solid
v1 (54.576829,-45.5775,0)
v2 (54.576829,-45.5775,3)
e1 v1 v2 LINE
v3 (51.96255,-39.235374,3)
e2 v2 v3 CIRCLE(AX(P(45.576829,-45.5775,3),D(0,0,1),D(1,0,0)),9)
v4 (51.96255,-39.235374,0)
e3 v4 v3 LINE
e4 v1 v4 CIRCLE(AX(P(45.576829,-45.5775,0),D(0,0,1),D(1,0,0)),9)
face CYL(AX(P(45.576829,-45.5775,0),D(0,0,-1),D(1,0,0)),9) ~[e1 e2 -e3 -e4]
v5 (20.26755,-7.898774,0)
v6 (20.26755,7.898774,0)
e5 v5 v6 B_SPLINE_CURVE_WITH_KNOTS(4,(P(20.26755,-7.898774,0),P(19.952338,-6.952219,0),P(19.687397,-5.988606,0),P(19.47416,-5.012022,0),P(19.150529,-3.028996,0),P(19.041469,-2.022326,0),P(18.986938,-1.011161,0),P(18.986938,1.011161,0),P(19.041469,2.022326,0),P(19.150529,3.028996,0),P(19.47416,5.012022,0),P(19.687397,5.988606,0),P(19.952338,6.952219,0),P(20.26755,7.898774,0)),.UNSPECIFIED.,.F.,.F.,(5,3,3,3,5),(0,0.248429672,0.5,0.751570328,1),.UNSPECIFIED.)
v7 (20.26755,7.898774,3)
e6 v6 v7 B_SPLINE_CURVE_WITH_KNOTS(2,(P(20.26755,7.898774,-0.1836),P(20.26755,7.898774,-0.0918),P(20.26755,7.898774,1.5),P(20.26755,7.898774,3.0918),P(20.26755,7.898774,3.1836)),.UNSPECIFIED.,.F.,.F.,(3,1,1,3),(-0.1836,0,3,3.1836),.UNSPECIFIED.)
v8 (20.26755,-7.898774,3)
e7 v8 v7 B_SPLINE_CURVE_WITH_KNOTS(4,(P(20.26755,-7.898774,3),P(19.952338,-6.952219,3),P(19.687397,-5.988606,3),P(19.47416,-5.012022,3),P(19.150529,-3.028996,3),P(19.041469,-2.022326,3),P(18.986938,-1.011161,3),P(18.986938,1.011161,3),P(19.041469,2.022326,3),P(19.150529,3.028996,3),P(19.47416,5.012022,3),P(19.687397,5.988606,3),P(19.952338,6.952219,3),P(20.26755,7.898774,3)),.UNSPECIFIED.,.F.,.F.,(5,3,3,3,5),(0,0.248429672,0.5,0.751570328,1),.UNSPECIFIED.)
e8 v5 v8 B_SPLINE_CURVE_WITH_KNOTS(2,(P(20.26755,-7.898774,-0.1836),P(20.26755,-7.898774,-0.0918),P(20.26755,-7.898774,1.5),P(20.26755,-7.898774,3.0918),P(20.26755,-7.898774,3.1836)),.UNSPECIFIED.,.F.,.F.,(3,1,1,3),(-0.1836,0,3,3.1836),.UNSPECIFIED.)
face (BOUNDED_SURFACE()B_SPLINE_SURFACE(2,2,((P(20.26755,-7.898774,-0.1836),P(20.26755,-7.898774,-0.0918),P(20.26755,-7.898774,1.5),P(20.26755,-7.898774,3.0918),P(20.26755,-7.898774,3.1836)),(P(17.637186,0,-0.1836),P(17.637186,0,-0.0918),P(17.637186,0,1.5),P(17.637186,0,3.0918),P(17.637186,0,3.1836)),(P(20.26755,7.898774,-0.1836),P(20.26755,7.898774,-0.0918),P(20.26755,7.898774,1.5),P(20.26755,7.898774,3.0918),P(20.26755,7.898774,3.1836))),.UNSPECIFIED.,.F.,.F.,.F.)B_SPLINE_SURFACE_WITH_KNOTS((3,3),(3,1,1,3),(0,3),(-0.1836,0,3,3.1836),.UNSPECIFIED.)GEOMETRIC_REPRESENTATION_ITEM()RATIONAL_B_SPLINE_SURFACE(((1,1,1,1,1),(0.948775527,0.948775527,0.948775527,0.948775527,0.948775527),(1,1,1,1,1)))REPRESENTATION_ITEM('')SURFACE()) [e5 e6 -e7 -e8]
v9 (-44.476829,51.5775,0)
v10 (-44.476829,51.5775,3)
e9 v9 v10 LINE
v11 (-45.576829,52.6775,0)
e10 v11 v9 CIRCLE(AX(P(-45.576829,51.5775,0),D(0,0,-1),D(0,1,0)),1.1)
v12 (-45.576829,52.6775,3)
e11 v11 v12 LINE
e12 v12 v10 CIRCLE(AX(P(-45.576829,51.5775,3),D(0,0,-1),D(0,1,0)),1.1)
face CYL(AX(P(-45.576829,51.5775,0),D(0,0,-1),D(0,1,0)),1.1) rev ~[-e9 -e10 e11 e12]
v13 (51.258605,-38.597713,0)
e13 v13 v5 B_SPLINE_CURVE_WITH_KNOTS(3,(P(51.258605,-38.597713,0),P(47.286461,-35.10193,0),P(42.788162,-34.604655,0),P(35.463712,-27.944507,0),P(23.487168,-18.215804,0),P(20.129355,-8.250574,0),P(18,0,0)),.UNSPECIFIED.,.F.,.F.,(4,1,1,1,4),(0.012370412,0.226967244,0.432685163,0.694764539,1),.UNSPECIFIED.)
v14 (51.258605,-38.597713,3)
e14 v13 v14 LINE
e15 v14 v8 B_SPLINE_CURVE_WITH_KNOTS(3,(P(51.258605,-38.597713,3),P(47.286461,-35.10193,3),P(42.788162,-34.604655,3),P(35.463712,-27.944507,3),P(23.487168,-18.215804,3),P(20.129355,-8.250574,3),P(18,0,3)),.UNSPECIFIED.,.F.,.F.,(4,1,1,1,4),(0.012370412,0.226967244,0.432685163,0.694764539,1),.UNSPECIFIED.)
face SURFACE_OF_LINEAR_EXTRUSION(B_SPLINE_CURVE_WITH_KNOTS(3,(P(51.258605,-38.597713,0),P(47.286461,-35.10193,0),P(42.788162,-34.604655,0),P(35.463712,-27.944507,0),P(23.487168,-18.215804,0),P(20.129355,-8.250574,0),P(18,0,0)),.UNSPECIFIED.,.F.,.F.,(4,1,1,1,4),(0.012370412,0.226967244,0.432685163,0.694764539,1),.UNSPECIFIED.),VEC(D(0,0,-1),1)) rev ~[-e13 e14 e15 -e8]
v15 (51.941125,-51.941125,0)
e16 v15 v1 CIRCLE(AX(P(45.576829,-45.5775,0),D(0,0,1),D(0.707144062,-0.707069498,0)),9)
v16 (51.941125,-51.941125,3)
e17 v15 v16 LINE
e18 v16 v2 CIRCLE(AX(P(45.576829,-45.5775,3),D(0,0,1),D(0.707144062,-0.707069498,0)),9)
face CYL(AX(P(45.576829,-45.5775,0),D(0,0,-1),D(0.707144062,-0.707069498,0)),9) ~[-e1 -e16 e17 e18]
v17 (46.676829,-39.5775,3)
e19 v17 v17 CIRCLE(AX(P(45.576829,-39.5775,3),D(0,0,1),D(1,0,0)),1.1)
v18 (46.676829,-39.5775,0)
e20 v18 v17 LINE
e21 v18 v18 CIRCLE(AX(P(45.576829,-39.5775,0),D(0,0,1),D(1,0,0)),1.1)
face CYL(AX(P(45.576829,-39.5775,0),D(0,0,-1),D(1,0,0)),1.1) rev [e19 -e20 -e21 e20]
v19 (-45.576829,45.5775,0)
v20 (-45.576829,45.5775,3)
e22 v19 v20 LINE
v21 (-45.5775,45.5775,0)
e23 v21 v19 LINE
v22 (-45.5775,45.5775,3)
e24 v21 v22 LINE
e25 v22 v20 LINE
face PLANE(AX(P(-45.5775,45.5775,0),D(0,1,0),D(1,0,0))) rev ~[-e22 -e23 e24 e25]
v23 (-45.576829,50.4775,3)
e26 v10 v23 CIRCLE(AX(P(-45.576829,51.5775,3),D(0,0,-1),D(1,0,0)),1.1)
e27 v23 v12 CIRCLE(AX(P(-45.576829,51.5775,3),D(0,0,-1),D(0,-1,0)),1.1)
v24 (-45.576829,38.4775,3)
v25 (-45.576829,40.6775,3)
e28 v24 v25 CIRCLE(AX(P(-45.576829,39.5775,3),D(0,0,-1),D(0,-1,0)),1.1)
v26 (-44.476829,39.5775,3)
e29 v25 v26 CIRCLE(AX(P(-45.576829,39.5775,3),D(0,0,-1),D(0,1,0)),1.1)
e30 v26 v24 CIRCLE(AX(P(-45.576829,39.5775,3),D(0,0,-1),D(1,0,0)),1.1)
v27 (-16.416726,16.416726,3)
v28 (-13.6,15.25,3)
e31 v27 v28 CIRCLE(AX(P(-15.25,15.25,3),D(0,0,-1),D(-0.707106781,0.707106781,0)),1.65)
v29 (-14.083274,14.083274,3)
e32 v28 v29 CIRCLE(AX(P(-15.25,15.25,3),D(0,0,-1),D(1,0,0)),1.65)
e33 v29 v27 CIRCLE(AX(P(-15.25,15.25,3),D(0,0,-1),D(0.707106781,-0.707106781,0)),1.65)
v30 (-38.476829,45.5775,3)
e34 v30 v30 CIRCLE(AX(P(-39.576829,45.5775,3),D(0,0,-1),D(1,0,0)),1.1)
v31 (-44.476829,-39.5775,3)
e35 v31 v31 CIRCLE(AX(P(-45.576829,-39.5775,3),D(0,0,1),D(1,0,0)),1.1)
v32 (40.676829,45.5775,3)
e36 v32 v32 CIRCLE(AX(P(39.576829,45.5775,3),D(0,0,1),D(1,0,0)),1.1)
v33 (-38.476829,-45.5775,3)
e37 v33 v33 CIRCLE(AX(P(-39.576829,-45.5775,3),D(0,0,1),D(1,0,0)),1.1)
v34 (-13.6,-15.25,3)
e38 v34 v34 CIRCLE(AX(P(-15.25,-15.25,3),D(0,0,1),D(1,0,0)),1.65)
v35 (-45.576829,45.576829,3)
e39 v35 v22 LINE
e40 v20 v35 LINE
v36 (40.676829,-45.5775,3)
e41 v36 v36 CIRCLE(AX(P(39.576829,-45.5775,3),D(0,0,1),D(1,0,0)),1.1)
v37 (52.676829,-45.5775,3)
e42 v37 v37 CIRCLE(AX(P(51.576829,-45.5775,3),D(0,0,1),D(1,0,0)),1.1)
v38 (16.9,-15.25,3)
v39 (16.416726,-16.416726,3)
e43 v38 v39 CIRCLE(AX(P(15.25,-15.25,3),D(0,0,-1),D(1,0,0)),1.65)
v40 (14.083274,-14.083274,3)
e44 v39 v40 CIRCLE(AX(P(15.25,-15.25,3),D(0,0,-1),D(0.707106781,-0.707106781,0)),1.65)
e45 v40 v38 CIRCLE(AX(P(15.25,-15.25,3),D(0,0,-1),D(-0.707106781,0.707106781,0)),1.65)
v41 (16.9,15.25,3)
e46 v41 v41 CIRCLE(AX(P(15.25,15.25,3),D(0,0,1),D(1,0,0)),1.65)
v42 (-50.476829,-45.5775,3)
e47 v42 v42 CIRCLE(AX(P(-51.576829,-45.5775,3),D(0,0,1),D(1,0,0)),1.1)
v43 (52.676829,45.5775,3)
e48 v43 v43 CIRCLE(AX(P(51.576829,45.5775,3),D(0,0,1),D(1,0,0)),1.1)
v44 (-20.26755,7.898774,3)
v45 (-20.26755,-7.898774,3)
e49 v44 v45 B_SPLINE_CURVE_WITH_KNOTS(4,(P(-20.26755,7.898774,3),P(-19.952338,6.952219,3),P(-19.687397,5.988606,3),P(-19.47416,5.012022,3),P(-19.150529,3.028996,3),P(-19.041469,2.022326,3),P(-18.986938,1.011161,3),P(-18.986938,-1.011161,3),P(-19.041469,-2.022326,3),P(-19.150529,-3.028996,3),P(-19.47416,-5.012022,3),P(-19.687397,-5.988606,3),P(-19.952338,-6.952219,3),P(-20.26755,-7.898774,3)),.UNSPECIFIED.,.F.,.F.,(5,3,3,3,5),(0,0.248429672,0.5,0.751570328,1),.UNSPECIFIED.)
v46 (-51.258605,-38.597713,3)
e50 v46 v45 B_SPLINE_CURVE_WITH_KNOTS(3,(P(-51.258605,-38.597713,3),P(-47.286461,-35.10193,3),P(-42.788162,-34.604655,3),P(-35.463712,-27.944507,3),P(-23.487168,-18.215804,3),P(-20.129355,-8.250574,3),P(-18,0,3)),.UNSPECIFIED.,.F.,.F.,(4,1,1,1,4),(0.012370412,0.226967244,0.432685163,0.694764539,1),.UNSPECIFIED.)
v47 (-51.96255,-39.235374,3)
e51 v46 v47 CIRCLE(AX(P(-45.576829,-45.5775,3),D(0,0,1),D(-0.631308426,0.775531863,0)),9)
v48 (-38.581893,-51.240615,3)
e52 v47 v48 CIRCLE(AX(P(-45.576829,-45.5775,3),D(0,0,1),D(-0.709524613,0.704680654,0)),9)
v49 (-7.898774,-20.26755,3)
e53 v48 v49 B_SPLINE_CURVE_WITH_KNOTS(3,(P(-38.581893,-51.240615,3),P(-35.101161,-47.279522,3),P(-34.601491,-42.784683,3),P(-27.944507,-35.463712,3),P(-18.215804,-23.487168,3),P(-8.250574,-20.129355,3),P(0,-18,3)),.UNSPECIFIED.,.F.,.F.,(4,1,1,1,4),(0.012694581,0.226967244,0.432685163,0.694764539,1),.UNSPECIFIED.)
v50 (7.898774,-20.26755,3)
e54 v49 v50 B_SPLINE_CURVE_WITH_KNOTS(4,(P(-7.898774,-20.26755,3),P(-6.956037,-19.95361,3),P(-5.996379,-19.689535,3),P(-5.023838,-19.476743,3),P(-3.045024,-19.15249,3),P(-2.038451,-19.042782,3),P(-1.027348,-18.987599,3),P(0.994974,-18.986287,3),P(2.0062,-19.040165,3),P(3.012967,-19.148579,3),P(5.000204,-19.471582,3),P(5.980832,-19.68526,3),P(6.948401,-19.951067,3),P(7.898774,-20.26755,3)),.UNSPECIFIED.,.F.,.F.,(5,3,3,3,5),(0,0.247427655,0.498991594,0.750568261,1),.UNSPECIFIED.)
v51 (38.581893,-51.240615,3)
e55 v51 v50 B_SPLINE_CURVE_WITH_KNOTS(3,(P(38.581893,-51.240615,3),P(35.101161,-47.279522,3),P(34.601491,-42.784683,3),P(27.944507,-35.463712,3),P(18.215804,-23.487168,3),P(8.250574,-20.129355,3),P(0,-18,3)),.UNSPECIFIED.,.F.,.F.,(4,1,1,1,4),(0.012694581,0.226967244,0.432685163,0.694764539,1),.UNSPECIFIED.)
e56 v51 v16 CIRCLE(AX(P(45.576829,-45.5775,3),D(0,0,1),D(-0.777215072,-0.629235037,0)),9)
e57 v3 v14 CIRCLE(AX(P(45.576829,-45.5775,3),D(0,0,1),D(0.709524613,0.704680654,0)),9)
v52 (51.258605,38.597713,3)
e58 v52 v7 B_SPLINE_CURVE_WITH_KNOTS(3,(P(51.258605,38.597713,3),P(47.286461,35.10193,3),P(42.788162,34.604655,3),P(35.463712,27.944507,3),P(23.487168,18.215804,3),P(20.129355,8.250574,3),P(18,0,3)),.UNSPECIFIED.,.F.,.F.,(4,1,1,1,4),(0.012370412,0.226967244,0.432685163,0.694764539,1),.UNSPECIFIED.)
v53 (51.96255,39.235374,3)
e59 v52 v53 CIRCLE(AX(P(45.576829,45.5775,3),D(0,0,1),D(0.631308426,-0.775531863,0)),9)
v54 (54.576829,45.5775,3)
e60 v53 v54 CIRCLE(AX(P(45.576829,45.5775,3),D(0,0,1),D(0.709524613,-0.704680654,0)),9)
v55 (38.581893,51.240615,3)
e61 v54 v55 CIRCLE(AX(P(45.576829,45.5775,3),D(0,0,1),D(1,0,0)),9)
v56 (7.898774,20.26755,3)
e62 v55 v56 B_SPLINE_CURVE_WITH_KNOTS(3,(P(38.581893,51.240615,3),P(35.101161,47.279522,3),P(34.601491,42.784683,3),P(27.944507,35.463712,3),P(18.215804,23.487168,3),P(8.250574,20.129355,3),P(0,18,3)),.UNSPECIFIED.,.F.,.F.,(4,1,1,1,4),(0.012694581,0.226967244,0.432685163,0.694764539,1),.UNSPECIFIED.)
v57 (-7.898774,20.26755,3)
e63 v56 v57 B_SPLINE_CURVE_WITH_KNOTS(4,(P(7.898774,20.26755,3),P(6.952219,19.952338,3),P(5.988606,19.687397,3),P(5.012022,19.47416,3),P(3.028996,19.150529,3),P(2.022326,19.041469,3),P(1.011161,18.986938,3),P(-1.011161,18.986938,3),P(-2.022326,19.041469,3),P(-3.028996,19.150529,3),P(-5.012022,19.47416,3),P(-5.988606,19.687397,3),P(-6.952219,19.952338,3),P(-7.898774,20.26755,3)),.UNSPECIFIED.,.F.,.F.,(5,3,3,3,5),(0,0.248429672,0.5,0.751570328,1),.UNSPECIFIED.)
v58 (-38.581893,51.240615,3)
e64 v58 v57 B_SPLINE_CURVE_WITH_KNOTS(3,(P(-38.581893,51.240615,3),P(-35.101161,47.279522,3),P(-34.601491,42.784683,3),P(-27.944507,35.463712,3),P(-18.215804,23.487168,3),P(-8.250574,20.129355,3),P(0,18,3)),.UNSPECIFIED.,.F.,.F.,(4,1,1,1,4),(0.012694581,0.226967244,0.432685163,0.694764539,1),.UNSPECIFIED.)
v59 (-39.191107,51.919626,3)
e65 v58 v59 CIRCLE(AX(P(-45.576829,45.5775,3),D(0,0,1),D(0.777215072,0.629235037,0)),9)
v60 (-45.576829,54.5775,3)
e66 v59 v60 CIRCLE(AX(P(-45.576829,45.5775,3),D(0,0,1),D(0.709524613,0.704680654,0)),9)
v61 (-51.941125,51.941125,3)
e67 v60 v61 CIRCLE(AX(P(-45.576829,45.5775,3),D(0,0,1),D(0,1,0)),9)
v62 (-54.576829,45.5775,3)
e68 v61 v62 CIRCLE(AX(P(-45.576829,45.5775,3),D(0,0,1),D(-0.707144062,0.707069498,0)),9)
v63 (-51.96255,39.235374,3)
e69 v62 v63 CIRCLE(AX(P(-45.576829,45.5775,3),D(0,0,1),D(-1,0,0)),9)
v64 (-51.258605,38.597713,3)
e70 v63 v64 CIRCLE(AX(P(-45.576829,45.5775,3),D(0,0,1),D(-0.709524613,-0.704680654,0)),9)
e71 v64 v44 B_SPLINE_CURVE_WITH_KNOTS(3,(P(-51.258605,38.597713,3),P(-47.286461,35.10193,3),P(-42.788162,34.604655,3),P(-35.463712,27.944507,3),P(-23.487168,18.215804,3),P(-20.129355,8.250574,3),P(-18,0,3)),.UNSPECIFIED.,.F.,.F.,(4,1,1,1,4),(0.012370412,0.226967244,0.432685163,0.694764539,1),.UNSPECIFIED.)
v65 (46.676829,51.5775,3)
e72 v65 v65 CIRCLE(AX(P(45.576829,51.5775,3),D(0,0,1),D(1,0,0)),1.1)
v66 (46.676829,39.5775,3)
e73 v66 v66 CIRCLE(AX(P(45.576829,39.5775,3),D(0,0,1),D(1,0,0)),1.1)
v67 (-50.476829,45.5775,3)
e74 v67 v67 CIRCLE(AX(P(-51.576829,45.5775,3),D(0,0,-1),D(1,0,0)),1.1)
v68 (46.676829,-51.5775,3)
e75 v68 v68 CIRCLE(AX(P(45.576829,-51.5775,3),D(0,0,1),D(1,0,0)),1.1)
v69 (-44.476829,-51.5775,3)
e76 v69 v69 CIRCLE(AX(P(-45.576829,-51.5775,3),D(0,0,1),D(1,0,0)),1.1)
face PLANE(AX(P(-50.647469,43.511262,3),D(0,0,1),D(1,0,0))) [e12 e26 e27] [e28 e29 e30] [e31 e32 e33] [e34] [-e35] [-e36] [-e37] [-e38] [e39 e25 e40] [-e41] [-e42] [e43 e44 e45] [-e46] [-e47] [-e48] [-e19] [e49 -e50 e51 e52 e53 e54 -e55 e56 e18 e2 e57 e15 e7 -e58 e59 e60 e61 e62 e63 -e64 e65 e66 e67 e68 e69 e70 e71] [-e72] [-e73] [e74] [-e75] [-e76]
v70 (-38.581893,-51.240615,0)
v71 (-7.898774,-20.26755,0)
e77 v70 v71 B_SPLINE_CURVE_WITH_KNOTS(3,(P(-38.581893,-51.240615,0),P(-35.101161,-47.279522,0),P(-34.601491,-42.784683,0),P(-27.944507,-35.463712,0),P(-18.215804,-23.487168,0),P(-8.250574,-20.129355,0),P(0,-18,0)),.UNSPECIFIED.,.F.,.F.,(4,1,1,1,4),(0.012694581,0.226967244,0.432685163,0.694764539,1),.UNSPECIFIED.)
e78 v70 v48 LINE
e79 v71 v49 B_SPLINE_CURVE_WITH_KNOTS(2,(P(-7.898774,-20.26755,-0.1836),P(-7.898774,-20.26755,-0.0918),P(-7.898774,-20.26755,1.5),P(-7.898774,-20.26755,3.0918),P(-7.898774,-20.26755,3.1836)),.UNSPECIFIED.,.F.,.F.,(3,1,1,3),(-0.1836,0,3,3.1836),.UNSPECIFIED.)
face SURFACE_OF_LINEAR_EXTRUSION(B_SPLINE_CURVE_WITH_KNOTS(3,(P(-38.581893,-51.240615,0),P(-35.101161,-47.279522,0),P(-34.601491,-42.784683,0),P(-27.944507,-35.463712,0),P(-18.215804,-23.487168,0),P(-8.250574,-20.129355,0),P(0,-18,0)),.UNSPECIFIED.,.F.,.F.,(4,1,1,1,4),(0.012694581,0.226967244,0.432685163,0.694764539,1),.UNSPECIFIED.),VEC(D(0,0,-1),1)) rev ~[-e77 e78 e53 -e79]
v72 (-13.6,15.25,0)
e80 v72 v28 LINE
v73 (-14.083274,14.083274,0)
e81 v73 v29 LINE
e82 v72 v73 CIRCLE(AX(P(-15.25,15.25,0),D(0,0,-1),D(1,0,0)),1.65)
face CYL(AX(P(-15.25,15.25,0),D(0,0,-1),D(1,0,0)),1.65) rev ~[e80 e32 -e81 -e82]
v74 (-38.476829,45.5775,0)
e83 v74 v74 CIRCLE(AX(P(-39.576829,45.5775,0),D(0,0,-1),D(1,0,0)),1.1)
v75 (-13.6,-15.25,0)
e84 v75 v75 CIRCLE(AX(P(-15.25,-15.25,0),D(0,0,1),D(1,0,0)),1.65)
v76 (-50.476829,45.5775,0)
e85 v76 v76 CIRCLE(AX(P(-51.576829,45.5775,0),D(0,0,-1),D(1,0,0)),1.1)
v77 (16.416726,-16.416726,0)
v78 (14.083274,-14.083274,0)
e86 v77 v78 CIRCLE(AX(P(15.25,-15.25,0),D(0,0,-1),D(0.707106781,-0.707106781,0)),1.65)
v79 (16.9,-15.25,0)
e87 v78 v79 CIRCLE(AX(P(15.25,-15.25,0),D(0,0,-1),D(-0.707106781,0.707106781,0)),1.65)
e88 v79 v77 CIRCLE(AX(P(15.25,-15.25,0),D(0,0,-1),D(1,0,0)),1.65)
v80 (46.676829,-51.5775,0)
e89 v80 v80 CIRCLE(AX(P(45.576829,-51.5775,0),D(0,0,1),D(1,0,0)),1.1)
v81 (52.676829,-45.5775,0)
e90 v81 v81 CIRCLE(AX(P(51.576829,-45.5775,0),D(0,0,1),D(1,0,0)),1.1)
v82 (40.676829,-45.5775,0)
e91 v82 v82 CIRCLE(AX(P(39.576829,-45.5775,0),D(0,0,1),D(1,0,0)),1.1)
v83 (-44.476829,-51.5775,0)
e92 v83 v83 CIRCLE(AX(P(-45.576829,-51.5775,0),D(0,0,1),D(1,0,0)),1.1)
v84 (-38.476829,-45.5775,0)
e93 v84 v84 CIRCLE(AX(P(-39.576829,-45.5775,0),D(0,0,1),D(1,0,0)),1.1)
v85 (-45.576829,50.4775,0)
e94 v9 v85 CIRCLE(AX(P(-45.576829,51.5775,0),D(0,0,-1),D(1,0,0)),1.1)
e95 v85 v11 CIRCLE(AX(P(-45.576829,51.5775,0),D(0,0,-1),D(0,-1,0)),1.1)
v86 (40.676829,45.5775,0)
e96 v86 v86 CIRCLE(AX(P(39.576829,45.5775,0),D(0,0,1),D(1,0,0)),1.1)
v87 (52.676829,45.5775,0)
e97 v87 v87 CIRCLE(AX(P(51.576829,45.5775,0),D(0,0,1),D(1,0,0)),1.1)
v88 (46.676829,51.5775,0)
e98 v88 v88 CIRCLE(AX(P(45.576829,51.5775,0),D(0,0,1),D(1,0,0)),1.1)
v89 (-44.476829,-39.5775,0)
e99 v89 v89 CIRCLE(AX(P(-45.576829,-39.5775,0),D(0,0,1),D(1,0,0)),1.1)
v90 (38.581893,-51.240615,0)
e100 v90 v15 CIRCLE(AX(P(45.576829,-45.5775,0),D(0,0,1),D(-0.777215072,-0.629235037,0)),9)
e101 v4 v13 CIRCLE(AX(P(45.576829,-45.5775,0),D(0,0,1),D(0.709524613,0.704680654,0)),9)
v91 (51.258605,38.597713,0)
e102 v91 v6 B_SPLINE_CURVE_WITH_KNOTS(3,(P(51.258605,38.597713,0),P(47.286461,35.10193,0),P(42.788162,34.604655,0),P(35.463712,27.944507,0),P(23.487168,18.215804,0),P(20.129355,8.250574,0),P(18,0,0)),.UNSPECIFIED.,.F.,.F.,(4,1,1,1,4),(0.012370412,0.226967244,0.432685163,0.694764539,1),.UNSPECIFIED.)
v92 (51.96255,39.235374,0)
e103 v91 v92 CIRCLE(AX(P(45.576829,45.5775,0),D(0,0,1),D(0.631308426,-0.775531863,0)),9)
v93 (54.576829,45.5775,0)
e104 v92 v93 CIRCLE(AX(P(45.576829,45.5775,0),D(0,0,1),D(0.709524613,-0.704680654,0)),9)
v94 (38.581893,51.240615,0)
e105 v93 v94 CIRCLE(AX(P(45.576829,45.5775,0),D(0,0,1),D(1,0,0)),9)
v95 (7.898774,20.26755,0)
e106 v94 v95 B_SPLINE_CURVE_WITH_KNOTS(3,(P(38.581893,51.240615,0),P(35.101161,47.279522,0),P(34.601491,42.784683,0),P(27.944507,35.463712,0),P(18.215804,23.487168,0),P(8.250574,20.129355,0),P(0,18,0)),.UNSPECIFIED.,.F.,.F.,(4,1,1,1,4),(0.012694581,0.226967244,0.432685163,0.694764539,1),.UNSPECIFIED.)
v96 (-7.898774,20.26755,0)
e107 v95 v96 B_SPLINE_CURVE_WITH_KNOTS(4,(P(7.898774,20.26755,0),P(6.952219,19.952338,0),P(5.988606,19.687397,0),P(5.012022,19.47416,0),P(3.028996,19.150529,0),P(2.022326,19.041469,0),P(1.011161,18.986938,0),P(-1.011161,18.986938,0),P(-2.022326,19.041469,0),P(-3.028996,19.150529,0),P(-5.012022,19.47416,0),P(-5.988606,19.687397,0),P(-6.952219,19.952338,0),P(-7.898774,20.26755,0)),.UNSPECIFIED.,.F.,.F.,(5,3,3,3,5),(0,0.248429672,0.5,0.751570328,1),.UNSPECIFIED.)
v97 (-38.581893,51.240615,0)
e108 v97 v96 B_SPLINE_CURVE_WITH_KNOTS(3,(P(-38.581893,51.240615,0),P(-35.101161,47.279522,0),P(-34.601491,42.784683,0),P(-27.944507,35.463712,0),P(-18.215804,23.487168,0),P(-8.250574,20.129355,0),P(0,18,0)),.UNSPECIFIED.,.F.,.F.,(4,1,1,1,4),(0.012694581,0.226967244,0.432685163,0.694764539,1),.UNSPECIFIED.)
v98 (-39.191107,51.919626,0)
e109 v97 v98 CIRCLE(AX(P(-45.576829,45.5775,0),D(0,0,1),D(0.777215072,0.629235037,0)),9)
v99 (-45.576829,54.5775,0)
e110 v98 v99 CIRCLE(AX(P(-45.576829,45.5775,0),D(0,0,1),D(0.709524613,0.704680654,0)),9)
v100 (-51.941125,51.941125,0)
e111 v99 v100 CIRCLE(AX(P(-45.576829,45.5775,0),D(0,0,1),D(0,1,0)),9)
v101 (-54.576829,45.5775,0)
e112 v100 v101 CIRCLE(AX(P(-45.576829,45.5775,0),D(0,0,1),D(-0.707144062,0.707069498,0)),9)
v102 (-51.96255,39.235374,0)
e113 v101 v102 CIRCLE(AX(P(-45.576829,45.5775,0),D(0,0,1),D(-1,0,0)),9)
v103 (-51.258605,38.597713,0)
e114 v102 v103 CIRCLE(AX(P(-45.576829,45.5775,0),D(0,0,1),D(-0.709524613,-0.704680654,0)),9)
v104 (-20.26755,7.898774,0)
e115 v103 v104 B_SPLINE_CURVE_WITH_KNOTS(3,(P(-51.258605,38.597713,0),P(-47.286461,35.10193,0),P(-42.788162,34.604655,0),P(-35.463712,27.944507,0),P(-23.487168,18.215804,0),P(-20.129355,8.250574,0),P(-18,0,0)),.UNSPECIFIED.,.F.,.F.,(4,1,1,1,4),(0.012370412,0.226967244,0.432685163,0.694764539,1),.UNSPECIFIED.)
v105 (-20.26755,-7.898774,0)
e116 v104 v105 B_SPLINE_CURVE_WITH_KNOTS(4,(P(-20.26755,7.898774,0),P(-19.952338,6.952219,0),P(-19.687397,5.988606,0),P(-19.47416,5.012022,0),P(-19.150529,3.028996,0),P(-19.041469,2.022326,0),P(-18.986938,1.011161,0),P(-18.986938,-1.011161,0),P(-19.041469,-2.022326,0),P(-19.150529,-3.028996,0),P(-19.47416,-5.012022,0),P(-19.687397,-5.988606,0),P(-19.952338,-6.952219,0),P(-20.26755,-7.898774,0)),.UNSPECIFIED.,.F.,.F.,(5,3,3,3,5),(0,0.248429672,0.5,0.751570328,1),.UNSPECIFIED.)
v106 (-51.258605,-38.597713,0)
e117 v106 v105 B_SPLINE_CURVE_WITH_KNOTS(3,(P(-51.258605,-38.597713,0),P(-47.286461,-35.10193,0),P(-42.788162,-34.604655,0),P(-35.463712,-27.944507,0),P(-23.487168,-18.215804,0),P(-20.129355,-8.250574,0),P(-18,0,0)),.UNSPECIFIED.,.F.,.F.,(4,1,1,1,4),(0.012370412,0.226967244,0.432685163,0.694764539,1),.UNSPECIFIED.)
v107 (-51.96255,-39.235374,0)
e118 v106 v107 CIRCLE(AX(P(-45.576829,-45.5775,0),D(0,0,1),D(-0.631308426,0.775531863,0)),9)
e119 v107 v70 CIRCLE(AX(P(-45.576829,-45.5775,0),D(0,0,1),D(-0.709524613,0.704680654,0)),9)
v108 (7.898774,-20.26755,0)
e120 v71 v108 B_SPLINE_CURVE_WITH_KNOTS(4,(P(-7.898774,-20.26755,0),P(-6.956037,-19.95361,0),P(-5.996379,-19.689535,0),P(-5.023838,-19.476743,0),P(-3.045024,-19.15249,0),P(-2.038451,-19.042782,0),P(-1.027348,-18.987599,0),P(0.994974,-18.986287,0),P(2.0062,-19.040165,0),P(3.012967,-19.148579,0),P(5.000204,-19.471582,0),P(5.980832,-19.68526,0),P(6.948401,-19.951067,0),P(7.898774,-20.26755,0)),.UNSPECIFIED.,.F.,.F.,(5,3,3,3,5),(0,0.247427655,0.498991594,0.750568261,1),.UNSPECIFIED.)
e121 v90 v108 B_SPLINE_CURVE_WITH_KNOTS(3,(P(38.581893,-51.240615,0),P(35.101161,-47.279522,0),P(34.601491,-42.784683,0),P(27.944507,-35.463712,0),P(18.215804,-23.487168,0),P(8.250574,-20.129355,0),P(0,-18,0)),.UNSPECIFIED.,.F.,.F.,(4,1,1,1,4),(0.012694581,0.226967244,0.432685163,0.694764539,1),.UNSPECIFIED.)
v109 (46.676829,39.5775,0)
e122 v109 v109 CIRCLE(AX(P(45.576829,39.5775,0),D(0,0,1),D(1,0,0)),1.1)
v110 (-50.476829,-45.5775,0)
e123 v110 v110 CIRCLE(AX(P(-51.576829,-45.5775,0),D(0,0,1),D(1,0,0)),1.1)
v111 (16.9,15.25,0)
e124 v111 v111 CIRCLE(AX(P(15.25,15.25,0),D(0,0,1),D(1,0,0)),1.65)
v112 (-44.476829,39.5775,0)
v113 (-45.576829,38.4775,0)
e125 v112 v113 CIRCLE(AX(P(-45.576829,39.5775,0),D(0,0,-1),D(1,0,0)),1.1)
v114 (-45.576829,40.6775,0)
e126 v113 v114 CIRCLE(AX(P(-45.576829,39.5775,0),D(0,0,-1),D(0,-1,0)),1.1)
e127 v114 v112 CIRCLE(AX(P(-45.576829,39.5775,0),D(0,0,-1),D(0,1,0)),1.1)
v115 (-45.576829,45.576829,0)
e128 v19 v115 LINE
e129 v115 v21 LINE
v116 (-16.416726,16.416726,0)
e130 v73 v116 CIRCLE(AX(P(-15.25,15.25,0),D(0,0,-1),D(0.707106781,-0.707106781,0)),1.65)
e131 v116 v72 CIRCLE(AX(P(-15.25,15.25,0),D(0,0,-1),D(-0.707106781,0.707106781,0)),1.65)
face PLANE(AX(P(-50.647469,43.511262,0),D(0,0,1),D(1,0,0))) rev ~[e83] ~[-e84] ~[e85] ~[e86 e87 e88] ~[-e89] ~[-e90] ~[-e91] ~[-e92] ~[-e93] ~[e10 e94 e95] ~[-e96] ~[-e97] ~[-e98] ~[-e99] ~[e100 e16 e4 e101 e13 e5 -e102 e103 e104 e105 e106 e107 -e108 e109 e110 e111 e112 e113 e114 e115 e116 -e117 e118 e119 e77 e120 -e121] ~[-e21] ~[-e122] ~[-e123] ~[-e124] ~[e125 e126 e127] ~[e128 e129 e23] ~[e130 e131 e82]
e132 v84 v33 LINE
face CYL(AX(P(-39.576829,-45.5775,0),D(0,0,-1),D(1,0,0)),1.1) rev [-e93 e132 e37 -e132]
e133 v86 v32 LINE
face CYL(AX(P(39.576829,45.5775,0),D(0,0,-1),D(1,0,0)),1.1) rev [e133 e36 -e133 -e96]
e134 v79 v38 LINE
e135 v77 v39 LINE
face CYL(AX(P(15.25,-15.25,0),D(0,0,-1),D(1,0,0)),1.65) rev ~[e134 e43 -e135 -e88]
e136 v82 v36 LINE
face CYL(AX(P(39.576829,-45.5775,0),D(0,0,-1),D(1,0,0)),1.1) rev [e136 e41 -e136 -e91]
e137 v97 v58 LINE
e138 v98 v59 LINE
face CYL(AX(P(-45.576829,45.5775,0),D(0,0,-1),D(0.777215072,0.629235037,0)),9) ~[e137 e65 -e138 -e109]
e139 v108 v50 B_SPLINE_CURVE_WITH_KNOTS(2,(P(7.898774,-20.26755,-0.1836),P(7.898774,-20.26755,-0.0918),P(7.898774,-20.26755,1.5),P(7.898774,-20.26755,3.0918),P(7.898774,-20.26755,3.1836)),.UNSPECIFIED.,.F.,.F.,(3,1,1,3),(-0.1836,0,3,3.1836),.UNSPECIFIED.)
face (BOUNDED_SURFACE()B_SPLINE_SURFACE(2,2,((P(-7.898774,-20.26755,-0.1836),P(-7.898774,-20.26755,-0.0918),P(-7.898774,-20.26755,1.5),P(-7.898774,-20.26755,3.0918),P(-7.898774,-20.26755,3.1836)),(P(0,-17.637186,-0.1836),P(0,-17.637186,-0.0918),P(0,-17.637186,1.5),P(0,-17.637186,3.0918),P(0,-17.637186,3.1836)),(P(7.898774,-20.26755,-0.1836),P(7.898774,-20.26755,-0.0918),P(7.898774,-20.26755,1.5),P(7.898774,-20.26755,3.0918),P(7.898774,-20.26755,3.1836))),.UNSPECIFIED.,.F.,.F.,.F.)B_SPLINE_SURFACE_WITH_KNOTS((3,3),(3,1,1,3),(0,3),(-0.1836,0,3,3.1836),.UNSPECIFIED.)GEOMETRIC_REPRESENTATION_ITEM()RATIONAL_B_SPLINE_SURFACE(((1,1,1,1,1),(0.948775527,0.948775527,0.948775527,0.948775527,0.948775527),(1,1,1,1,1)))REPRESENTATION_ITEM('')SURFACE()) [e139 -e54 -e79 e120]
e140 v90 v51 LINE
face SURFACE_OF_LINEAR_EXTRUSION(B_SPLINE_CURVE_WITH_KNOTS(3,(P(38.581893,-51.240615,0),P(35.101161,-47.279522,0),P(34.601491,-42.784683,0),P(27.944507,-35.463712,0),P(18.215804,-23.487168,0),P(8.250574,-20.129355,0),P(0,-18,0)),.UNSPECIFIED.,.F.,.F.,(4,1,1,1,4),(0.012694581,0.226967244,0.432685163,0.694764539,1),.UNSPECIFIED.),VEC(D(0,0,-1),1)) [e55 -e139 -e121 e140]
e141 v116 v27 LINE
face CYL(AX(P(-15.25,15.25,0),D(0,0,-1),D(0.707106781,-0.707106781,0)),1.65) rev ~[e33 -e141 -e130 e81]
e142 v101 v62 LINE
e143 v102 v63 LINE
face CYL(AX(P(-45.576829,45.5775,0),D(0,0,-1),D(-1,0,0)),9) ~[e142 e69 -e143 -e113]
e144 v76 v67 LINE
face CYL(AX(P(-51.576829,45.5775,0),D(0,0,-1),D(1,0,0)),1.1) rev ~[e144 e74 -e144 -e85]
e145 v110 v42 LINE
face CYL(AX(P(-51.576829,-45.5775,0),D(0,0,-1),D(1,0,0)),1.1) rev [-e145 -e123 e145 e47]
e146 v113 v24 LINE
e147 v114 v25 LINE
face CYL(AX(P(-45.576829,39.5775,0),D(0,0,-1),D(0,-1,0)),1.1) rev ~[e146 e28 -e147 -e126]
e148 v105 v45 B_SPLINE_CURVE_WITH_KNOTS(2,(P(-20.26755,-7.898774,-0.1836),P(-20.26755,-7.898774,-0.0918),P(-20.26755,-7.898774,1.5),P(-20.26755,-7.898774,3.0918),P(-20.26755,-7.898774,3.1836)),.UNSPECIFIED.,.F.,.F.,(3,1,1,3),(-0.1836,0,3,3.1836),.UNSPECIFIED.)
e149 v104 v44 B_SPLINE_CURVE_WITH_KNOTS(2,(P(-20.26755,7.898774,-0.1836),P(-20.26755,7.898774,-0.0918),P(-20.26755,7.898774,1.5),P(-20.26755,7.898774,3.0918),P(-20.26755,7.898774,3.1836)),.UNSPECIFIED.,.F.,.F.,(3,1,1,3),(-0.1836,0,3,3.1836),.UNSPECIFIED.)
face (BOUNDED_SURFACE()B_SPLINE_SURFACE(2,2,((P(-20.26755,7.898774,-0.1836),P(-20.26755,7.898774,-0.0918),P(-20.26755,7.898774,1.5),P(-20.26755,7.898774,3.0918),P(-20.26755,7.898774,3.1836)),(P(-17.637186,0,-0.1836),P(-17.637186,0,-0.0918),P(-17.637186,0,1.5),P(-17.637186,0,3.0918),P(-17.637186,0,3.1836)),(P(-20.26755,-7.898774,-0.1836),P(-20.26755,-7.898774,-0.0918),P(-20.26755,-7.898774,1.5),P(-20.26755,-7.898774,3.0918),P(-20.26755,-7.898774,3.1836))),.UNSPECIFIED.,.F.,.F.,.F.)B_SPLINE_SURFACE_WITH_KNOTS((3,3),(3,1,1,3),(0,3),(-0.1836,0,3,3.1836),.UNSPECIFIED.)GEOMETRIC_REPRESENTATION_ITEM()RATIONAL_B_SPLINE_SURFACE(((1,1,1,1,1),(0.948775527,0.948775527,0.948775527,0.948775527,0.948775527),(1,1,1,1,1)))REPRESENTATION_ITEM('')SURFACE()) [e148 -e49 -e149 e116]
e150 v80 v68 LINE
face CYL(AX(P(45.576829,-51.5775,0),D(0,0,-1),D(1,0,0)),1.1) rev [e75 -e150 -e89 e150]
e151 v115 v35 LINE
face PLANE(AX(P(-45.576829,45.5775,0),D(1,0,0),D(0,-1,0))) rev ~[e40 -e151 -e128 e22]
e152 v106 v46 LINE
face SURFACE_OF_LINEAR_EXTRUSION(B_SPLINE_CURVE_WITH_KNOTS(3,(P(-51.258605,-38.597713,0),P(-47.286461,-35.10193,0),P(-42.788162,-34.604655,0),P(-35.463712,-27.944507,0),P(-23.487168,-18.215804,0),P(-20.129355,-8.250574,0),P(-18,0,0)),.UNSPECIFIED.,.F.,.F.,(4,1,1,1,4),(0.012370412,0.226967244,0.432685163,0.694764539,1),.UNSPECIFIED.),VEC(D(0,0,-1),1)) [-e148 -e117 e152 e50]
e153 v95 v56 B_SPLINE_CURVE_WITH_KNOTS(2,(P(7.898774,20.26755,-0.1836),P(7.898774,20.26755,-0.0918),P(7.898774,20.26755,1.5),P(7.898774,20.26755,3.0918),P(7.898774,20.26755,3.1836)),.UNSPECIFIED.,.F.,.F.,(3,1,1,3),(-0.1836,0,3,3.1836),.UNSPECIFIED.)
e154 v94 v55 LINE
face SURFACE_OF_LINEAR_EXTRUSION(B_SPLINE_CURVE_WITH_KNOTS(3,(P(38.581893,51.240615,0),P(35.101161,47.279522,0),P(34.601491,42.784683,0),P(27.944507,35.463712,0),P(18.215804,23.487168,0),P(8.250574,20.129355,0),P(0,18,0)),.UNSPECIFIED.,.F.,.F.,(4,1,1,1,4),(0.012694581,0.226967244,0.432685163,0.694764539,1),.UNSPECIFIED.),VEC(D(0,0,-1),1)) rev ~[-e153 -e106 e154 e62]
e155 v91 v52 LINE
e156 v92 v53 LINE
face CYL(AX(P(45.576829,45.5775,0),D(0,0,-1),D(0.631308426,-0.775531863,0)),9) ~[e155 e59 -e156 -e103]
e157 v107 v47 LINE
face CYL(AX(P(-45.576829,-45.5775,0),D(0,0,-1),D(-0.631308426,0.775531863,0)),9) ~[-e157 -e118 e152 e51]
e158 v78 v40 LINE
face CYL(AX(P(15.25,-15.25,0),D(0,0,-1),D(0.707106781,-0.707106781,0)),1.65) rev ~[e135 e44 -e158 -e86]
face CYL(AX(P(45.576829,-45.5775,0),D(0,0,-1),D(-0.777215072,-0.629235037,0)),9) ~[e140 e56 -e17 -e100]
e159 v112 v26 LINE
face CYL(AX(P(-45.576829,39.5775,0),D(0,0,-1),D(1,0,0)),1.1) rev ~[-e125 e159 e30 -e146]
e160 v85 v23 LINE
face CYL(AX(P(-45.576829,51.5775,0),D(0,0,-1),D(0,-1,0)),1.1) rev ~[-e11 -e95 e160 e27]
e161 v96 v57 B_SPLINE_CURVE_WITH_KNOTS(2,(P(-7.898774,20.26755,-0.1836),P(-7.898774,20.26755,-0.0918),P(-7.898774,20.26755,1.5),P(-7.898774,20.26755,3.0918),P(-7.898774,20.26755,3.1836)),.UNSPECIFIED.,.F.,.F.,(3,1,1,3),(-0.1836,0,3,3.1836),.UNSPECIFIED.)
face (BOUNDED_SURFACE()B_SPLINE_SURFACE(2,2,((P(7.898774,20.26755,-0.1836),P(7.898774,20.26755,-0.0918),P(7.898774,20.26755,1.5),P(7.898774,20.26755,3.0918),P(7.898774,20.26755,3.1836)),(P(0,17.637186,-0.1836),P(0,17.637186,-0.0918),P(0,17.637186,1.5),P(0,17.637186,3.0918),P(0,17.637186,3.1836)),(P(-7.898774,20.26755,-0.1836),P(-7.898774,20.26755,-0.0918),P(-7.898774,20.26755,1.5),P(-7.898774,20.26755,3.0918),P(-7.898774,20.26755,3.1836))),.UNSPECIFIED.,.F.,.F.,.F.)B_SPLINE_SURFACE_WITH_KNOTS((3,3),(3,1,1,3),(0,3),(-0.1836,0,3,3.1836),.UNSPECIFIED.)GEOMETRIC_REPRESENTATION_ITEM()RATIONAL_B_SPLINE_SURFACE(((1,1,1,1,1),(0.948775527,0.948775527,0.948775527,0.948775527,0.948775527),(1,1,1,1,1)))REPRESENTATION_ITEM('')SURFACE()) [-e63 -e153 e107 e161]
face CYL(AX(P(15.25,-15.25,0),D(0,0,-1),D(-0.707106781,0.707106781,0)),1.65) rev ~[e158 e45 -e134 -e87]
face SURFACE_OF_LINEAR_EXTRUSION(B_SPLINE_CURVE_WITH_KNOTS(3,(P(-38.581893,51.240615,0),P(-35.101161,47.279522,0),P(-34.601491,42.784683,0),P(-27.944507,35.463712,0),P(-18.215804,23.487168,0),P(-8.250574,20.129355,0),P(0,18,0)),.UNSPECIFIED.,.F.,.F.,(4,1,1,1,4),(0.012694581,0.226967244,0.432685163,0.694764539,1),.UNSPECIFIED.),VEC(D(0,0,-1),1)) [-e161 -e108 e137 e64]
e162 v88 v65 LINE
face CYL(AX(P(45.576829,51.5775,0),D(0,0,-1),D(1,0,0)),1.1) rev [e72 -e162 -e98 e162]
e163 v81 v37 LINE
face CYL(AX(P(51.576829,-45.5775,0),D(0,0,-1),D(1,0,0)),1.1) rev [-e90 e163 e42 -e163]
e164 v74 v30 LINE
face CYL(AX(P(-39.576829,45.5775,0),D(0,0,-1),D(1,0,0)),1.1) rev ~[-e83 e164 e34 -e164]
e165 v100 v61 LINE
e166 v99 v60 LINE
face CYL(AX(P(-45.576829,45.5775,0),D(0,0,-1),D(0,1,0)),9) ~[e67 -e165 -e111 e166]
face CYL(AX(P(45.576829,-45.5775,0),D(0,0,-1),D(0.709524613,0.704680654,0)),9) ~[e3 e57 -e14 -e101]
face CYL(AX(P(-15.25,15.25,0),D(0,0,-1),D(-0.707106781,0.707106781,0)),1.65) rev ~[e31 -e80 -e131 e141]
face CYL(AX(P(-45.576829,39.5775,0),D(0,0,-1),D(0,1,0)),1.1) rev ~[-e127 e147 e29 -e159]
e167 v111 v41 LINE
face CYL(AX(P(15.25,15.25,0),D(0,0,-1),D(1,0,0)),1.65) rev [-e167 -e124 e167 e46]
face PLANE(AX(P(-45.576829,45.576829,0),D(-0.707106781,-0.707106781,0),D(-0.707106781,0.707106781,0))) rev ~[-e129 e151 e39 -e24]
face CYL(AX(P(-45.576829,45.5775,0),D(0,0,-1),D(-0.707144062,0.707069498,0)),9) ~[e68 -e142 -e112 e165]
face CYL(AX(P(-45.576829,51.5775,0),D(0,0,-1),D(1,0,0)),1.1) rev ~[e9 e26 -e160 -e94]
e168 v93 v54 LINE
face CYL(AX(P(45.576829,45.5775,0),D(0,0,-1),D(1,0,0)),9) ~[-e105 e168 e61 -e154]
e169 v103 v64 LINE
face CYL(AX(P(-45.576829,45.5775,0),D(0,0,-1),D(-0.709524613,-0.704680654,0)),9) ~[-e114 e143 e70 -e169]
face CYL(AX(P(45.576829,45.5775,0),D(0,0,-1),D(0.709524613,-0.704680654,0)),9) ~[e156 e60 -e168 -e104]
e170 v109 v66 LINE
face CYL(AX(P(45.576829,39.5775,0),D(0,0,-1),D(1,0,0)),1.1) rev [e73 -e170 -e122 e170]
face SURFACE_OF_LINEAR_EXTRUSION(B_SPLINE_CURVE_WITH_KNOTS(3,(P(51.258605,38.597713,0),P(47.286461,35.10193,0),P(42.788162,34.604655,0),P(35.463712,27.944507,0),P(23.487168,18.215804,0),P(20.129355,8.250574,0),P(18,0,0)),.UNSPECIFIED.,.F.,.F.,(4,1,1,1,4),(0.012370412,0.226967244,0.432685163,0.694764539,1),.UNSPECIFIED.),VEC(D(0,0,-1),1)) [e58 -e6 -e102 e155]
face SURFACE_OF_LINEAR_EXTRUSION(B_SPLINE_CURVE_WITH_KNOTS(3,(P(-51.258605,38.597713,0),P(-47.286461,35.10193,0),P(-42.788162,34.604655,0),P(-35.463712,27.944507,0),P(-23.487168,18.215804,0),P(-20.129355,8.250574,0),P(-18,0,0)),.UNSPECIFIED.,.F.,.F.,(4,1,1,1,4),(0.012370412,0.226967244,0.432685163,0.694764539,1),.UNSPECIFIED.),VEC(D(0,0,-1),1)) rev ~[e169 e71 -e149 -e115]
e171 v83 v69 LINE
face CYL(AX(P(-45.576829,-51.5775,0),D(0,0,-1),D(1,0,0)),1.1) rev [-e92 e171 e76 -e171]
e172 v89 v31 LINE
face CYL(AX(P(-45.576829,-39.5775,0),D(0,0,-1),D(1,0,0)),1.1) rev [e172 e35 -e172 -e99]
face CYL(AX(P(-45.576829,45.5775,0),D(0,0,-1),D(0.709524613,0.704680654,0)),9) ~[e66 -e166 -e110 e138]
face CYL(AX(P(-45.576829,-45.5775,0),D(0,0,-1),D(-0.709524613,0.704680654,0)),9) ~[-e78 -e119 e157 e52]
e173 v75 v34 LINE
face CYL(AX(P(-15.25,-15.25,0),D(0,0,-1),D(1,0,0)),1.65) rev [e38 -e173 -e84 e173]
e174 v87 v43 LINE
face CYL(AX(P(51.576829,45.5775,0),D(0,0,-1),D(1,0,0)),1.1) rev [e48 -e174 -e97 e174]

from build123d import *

# Parameters (mm, degrees)
F0_W     = 18
F0_H     = 18
F0_R     = 1.65
F0_R_2   = 1.1
F1_DEPTH = 3
F2_R     = 25


with BuildPart() as f1:
    # F0 (on Top) → F1 (new body)
    with BuildSketch(Plane.XY):
        with BuildLine():
            Line((-52.6768289285, 45.5775), (-54.5768289285, 45.5775))
            ThreePointArc((-54.5768289285, 45.5775), (-53.8976309819, 42.1475942889), (-51.9625504425, 39.2353741146))
            Line((-51.9625504425, 39.2353741146), (-45.5771656135, 45.5771656135))
            Line((-45.5771656135, 45.5771656135), (-45.5775, 45.5775))
            Line((-45.5775, 45.5775), (-50.4768289285, 45.5775))
            ThreePointArc((-50.4768289285, 45.5775), (-51.5768289285, 44.4775), (-52.6768289285, 45.5775))
        make_face()
        with BuildLine():
            ThreePointArc((-51.9411254861, 51.9411254861), (-53.8918355135, 49.0214316908), (-54.5768289285, 45.5775))
            Line((-54.5768289285, 45.5775), (-52.6768289285, 45.5775))
            ThreePointArc((-52.6768289285, 45.5775), (-51.5768289285, 46.6775), (-50.4768289285, 45.5775))
            Line((-50.4768289285, 45.5775), (-45.5775, 45.5775))
            Line((-45.5775, 45.5775), (-51.9411254861, 51.9411254861))
        make_face()
        with BuildLine():
            add(Edge.make_bspline(
                [(-51.9625504425, 39.2353741146), (-51.7221199669, 39.0115138973), (-51.4875786056, 38.7992272656), (-51.2586047637, 38.5977132298)],
                knots=[0, 0, 0, 0, 0.0123704122, 0.0123704122, 0.0123704122, 0.0123704122], degree=3))
            ThreePointArc((-51.9625504425, 39.2353741146), (-51.6189954207, 38.9072508232), (-51.2586047637, 38.5977132298))
        make_face()
        with BuildLine():
            Line((-45.5771656135, 45.5771656135), (-51.9625504425, 39.2353741146))
            add(Edge.make_bspline(
                [(-51.9625504425, 39.2353741146), (-51.7221199669, 39.0115138973), (-51.4875786056, 38.7992272656), (-51.2586047637, 38.5977132298)],
                knots=[0, 0, 0, 0, 0.0123704122, 0.0123704122, 0.0123704122, 0.0123704122], degree=3))
            ThreePointArc((-51.2586047637, 38.5977132298), (-48.5919507393, 37.0975801616), (-45.5768289285, 36.5775))
            Line((-45.5768289285, 36.5775), (-45.5768289285, 38.4775))
            ThreePointArc((-45.5768289285, 38.4775), (-46.6768289285, 39.5775), (-45.5768289285, 40.6775))
            Line((-45.5768289285, 40.6775), (-45.5768289285, 45.5768289285))
            Line((-45.5768289285, 45.5768289285), (-45.5771656135, 45.5771656135))
        make_face()
        with BuildLine():
            ThreePointArc((-45.5768289285, 54.5775), (-49.0211990179, 53.8923249944), (-51.9411254861, 51.9411254861))
            Line((-51.9411254861, 51.9411254861), (-45.5775, 45.5775))
            Line((-45.5775, 45.5775), (-45.5768289285, 45.5775))
            Line((-45.5768289285, 45.5775), (-45.5768289285, 50.4775))
            ThreePointArc((-45.5768289285, 50.4775), (-46.6768289285, 51.5775), (-45.5768289285, 52.6775))
            Line((-45.5768289285, 52.6775), (-45.5768289285, 54.5775))
        make_face()
        with BuildLine():
            ThreePointArc((-45.5768289285, 36.5775), (-48.5919507393, 37.0975801616), (-51.2586047637, 38.5977132298))
            add(Edge.make_bspline(
                [(-51.2586047637, 38.5977132298), (-47.2864605414, 35.1019304507), (-42.7881620708, 34.6046550596), (-35.4637120062, 27.9445069724), (-23.4871683958, 18.2158039913), (-20.1293552586, 8.2505741197), (-18, 0)],
                knots=[0.0123704122, 0.0123704122, 0.0123704122, 0.0123704122, 0.2269672445, 0.4326851633, 0.6947645386, 1, 1, 1, 1], degree=3))
            Line((-18, 0), (-18, 18))
            Line((-18, 18), (-39.2132034424, 39.2132034424))
            ThreePointArc((-39.2132034424, 39.2132034424), (-42.1328972377, 37.262493415), (-45.5768289285, 36.5775))
        make_face()
        with BuildLine():
            ThreePointArc((-39.1911074145, 51.9196258854), (-42.1184429587, 53.8865051441), (-45.5768289285, 54.5775))
            Line((-45.5768289285, 54.5775), (-45.5768289285, 52.6775))
            ThreePointArc((-45.5768289285, 52.6775), (-44.7990114692, 52.3553174593), (-44.4768289285, 51.5775))
            ThreePointArc((-44.4768289285, 51.5775), (-44.7990114692, 50.7996825407), (-45.5768289285, 50.4775))
            Line((-45.5768289285, 50.4775), (-45.5768289285, 45.5775))
            Line((-45.5768289285, 45.5775), (-39.1933790389, 51.9173697694))
            Line((-39.1933790389, 51.9173697694), (-39.1911074145, 51.9196258854))
        make_face()
        with Locations((-9, -9)):
            Rectangle(F0_W, F0_H)
        with Locations((-15.25, -15.25)):
            Circle(F0_R, mode=Mode.SUBTRACT)
        with BuildLine():
            Line((-18, 18), (-18, 0))
            Line((-18, 0), (0, 0))
            Line((0, 0), (-14.083273811, 14.083273811))
            ThreePointArc((-14.083273811, 14.083273811), (-16.416726189, 14.083273811), (-16.416726189, 16.416726189))
            Line((-16.416726189, 16.416726189), (-18, 18))
        make_face()
        with BuildLine():
            Line((-18, -18), (-18, 0))
            add(Edge.make_bspline(
                [(-51.2586047637, -38.5977132298), (-47.2864605414, -35.1019304507), (-42.7881620708, -34.6046550596), (-35.4637120062, -27.9445069724), (-23.4871683958, -18.2158039913), (-20.1293552586, -8.2505741197), (-18, 0)],
                knots=[0.0123704122, 0.0123704122, 0.0123704122, 0.0123704122, 0.2269672445, 0.4326851633, 0.6947645386, 1, 1, 1, 1], degree=3))
            ThreePointArc((-51.2586047637, -38.5977132298), (-41.7126331853, -37.4492780998), (-36.5768289285, -45.5775))
            ThreePointArc((-36.5768289285, -45.5775), (-37.0928905493, -48.5812958616), (-38.5818932792, -51.2406153319))
            add(Edge.make_bspline(
                [(-38.5818932792, -51.2406153319), (-35.1011612566, -47.2795218865), (-34.6014911813, -42.7846826183), (-27.9445069724, -35.4637120062), (-18.2158039913, -23.4871683958), (-8.2505741197, -20.1293552586), (0, -18)],
                knots=[0.0126945809, 0.0126945809, 0.0126945809, 0.0126945809, 0.2269672445, 0.4326851633, 0.6947645386, 1, 1, 1, 1], degree=3))
            Line((0, -18), (-18, -18))
        make_face()
        with BuildLine():
            Line((-39.1933790389, 51.9173697694), (-45.5768289285, 45.5775))
            Line((-45.5768289285, 45.5775), (-40.6768289285, 45.5775))
            ThreePointArc((-40.6768289285, 45.5775), (-39.5768289285, 46.6775), (-38.4768289285, 45.5775))
            Line((-38.4768289285, 45.5775), (-36.5768289285, 45.5775))
            ThreePointArc((-36.5768289285, 45.5775), (-37.0928905493, 48.5812958616), (-38.5818932792, 51.2406153319))
            add(Edge.make_bspline(
                [(-39.1933790389, 51.9173697694), (-38.9790924203, 51.6864328419), (-38.7755026263, 51.4609439038), (-38.5818932792, 51.2406153319)],
                knots=[0.0007760562, 0.0007760562, 0.0007760562, 0.0007760562, 0.0126945809, 0.0126945809, 0.0126945809, 0.0126945809], degree=3))
        make_face()
        with BuildLine():
            ThreePointArc((-38.5818932792, 51.2406153319), (-38.8778916722, 51.5878443859), (-39.1911074145, 51.9196258854))
            Line((-39.1911074145, 51.9196258854), (-39.1933790389, 51.9173697694))
            add(Edge.make_bspline(
                [(-39.1933790389, 51.9173697694), (-38.9790924203, 51.6864328419), (-38.7755026263, 51.4609439038), (-38.5818932792, 51.2406153319)],
                knots=[0.0007760562, 0.0007760562, 0.0007760562, 0.0007760562, 0.0126945809, 0.0126945809, 0.0126945809, 0.0126945809], degree=3))
        make_face()
        with BuildLine():
            ThreePointArc((-36.5768289285, 45.5775), (-37.2620039341, 42.1331299106), (-39.2132034424, 39.2132034424))
            Line((-39.2132034424, 39.2132034424), (-18, 18))
            Line((-18, 18), (0, 18))
            add(Edge.make_bspline(
                [(-38.5818932792, 51.2406153319), (-35.1011612566, 47.2795218865), (-34.6014911813, 42.7846826183), (-27.9445069724, 35.4637120062), (-18.2158039913, 23.4871683958), (-8.2505741197, 20.1293552586), (0, 18)],
                knots=[0.0126945809, 0.0126945809, 0.0126945809, 0.0126945809, 0.2269672445, 0.4326851633, 0.6947645386, 1, 1, 1, 1], degree=3))
            ThreePointArc((-38.5818932792, 51.2406153319), (-37.0928905493, 48.5812958616), (-36.5768289285, 45.5775))
        make_face()
        with BuildLine():
            Line((0, 18), (-18, 18))
            Line((-18, 18), (-16.416726189, 16.416726189))
            ThreePointArc((-16.416726189, 16.416726189), (-14.6185723366, 16.7744012286), (-13.6, 15.25))
            ThreePointArc((-13.6, 15.25), (-13.7255987714, 14.6185723366), (-14.083273811, 14.083273811))
            Line((-14.083273811, 14.083273811), (0, 0))
            Line((0, 0), (0, 18))
        make_face()
        with BuildLine():
            Line((14.083273811, -14.083273811), (0, 0))
            Line((0, 0), (0, -18))
            Line((0, -18), (18, -18))
            Line((18, -18), (16.416726189, -16.416726189))
            ThreePointArc((16.416726189, -16.416726189), (14.083273811, -16.416726189), (14.083273811, -14.083273811))
        make_face()
        with Locations((9, 9)):
            Rectangle(F0_W, F0_H)
        with Locations((15.25, 15.25)):
            Circle(F0_R, mode=Mode.SUBTRACT)
        with BuildLine():
            Line((18, 0), (0, 0))
            Line((0, 0), (14.083273811, -14.083273811))
            ThreePointArc((14.083273811, -14.083273811), (15.8814276634, -13.7255987714), (16.9, -15.25))
            ThreePointArc((16.9, -15.25), (16.7744012286, -15.8814276634), (16.416726189, -16.416726189))
            Line((16.416726189, -16.416726189), (18, -18))
            Line((18, -18), (18, 0))
        make_face()
        with BuildLine():
            ThreePointArc((-36.5768289285, -45.5775), (-41.7126331853, -37.4492780998), (-51.2586047637, -38.5977132298))
            add(Edge.make_bspline(
                [(-51.9625504425, -39.2353741146), (-51.7221199669, -39.0115138973), (-51.4875786056, -38.7992272656), (-51.2586047637, -38.5977132298)],
                knots=[0, 0, 0, 0, 0.0123704122, 0.0123704122, 0.0123704122, 0.0123704122], degree=3))
            ThreePointArc((-51.9625504425, -39.2353741146), (-51.5871733144, -52.2764372562), (-38.5818932792, -51.2406153319))
            ThreePointArc((-38.5818932792, -51.2406153319), (-37.0928905493, -48.5812958616), (-36.5768289285, -45.5775))
        make_face()
        with Locations((-45.5768289285, -51.5775)):
            Circle(F0_R_2, mode=Mode.SUBTRACT)
        with Locations((-51.5768289285, -45.5775)):
            Circle(F0_R_2, mode=Mode.SUBTRACT)
        with Locations((-39.5768289285, -45.5775)):
            Circle(F0_R_2, mode=Mode.SUBTRACT)
        with Locations((-45.5768289285, -39.5775)):
            Circle(F0_R_2, mode=Mode.SUBTRACT)
        with BuildLine():
            add(Edge.make_bspline(
                [(-51.9625504425, -39.2353741146), (-51.7221199669, -39.0115138973), (-51.4875786056, -38.7992272656), (-51.2586047637, -38.5977132298)],
                knots=[0, 0, 0, 0, 0.0123704122, 0.0123704122, 0.0123704122, 0.0123704122], degree=3))
            ThreePointArc((-51.2586047637, -38.5977132298), (-51.6189954207, -38.9072508232), (-51.9625504425, -39.2353741146))
        make_face()
        with BuildLine():
            add(Edge.make_bspline(
                [(38.5818932792, 51.2406153319), (35.1011612566, 47.2795218865), (34.6014911813, 42.7846826183), (27.9445069724, 35.4637120062), (18.2158039913, 23.4871683958), (8.2505741197, 20.1293552586), (0, 18)],
                knots=[0.0126945809, 0.0126945809, 0.0126945809, 0.0126945809, 0.2269672445, 0.4326851633, 0.6947645386, 1, 1, 1, 1], degree=3))
            Line((0, 18), (18, 18))
            Line((18, 18), (18, 0))
            add(Edge.make_bspline(
                [(51.2586047637, 38.5977132298), (47.2864605414, 35.1019304507), (42.7881620708, 34.6046550596), (35.4637120062, 27.9445069724), (23.4871683958, 18.2158039913), (20.1293552586, 8.2505741197), (18, 0)],
                knots=[0.0123704122, 0.0123704122, 0.0123704122, 0.0123704122, 0.2269672445, 0.4326851633, 0.6947645386, 1, 1, 1, 1], degree=3))
            ThreePointArc((51.2586047637, 38.5977132298), (39.2213713867, 39.2050468276), (38.5818932792, 51.2406153319))
        make_face()
        with BuildLine():
            Line((18, -18), (0, -18))
            add(Edge.make_bspline(
                [(38.5818932792, -51.2406153319), (35.1011612566, -47.2795218865), (34.6014911813, -42.7846826183), (27.9445069724, -35.4637120062), (18.2158039913, -23.4871683958), (8.2505741197, -20.1293552586), (0, -18)],
                knots=[0.0126945809, 0.0126945809, 0.0126945809, 0.0126945809, 0.2269672445, 0.4326851633, 0.6947645386, 1, 1, 1, 1], degree=3))
            ThreePointArc((38.5818932792, -51.2406153319), (36.5892014278, -45.1057459239), (39.2132034424, -39.2132034424))
            Line((39.2132034424, -39.2132034424), (18, -18))
        make_face()
        with BuildLine():
            add(Edge.make_bspline(
                [(51.2586047637, -38.5977132298), (47.2864605414, -35.1019304507), (42.7881620708, -34.6046550596), (35.4637120062, -27.9445069724), (23.4871683958, -18.2158039913), (20.1293552586, -8.2505741197), (18, 0)],
                knots=[0.0123704122, 0.0123704122, 0.0123704122, 0.0123704122, 0.2269672445, 0.4326851633, 0.6947645386, 1, 1, 1, 1], degree=3))
            Line((18, 0), (18, -18))
            Line((18, -18), (39.2132034424, -39.2132034424))
            ThreePointArc((39.2132034424, -39.2132034424), (45.1175503779, -36.5892263497), (51.2586047637, -38.5977132298))
        make_face()
        with BuildLine():
            ThreePointArc((54.5768289285, 45.5775), (48.5806247901, 54.0614383792), (38.5818932792, 51.2406153319))
            ThreePointArc((38.5818932792, 51.2406153319), (39.2213713867, 39.2050468276), (51.2586047637, 38.5977132298))
            add(Edge.make_bspline(
                [(51.9625504425, 39.2353741146), (51.7221199669, 39.0115138973), (51.4875786056, 38.7992272656), (51.2586047637, 38.5977132298)],
                knots=[0, 0, 0, 0, 0.0123704122, 0.0123704122, 0.0123704122, 0.0123704122], degree=3))
            ThreePointArc((51.9625504425, 39.2353741146), (53.8976309819, 42.1475942889), (54.5768289285, 45.5775))
        make_face()
        with Locations((45.5768289285, 39.5775)):
            Circle(F0_R_2, mode=Mode.SUBTRACT)
        with Locations((39.5768289285, 45.5775)):
            Circle(F0_R_2, mode=Mode.SUBTRACT)
        with Locations((51.5768289285, 45.5775)):
            Circle(F0_R_2, mode=Mode.SUBTRACT)
        with Locations((45.5768289285, 51.5775)):
            Circle(F0_R_2, mode=Mode.SUBTRACT)
        with BuildLine():
            ThreePointArc((39.2132034424, -39.2132034424), (36.5892014278, -45.1057459239), (38.5818932792, -51.2406153319))
            ThreePointArc((38.5818932792, -51.2406153319), (45.1055487199, -54.5651523612), (51.9411254861, -51.9411254861))
            Line((51.9411254861, -51.9411254861), (39.2132034424, -39.2132034424))
        make_face()
        with Locations((39.5768289285, -45.5775)):
            Circle(F0_R_2, mode=Mode.SUBTRACT)
        with Locations((45.5768289285, -51.5775)):
            Circle(F0_R_2, mode=Mode.SUBTRACT)
        with BuildLine():
            add(Edge.make_bspline(
                [(51.9625504425, 39.2353741146), (51.7221199669, 39.0115138973), (51.4875786056, 38.7992272656), (51.2586047637, 38.5977132298)],
                knots=[0, 0, 0, 0, 0.0123704122, 0.0123704122, 0.0123704122, 0.0123704122], degree=3))
            ThreePointArc((51.2586047637, 38.5977132298), (51.6189954207, 38.9072508232), (51.9625504425, 39.2353741146))
        make_face()
        with BuildLine():
            ThreePointArc((51.9625504425, -39.2353741146), (51.6189954207, -38.9072508232), (51.2586047637, -38.5977132298))
            add(Edge.make_bspline(
                [(51.9625504425, -39.2353741146), (51.7221199669, -39.0115138973), (51.4875786056, -38.7992272656), (51.2586047637, -38.5977132298)],
                knots=[0, 0, 0, 0, 0.0123704122, 0.0123704122, 0.0123704122, 0.0123704122], degree=3))
        make_face()
        with BuildLine():
            add(Edge.make_bspline(
                [(51.9625504425, -39.2353741146), (51.7221199669, -39.0115138973), (51.4875786056, -38.7992272656), (51.2586047637, -38.5977132298)],
                knots=[0, 0, 0, 0, 0.0123704122, 0.0123704122, 0.0123704122, 0.0123704122], degree=3))
            ThreePointArc((51.2586047637, -38.5977132298), (45.1175503779, -36.5892263497), (39.2132034424, -39.2132034424))
            Line((39.2132034424, -39.2132034424), (51.9411254861, -51.9411254861))
            ThreePointArc((51.9411254861, -51.9411254861), (53.8918355135, -49.0214316908), (54.5768289285, -45.5775))
            ThreePointArc((54.5768289285, -45.5775), (53.8976309819, -42.1475942889), (51.9625504425, -39.2353741146))
        make_face()
        with Locations((51.5768289285, -45.5775)):
            Circle(F0_R_2, mode=Mode.SUBTRACT)
        with Locations((45.5768289285, -39.5775)):
            Circle(F0_R_2, mode=Mode.SUBTRACT)
        with BuildLine():
            Line((-45.5768289285, 45.5775), (-45.5768289285, 45.5768289285))
            Line((-45.5768289285, 45.5768289285), (-39.2132034424, 39.2132034424))
            ThreePointArc((-39.2132034424, 39.2132034424), (-37.2620039341, 42.1331299106), (-36.5768289285, 45.5775))
            Line((-36.5768289285, 45.5775), (-38.4768289285, 45.5775))
            ThreePointArc((-38.4768289285, 45.5775), (-39.5768289285, 44.4775), (-40.6768289285, 45.5775))
            Line((-40.6768289285, 45.5775), (-45.5768289285, 45.5775))
        make_face()
        with BuildLine():
            Line((-45.5768289285, 38.4775), (-45.5768289285, 36.5775))
            ThreePointArc((-45.5768289285, 36.5775), (-42.1328972377, 37.262493415), (-39.2132034424, 39.2132034424))
            Line((-39.2132034424, 39.2132034424), (-45.5768289285, 45.5768289285))
            Line((-45.5768289285, 45.5768289285), (-45.5768289285, 40.6775))
            ThreePointArc((-45.5768289285, 40.6775), (-44.7990114692, 40.3553174593), (-44.4768289285, 39.5775))
            ThreePointArc((-44.4768289285, 39.5775), (-44.7990114692, 38.7996825407), (-45.5768289285, 38.4775))
        make_face()
    extrude(amount=F1_DEPTH)

    # F2
    f2_edges = [f1.edges().sort_by_distance(p)[0] for p in [
        (0, -18, 1.5),
        (18, 0, 1.5),
        (0, 18, 1.5),
        (-18, 0, 1.5),
    ]]
    fillet(f2_edges, radius=F2_R)


solid = f1.part
